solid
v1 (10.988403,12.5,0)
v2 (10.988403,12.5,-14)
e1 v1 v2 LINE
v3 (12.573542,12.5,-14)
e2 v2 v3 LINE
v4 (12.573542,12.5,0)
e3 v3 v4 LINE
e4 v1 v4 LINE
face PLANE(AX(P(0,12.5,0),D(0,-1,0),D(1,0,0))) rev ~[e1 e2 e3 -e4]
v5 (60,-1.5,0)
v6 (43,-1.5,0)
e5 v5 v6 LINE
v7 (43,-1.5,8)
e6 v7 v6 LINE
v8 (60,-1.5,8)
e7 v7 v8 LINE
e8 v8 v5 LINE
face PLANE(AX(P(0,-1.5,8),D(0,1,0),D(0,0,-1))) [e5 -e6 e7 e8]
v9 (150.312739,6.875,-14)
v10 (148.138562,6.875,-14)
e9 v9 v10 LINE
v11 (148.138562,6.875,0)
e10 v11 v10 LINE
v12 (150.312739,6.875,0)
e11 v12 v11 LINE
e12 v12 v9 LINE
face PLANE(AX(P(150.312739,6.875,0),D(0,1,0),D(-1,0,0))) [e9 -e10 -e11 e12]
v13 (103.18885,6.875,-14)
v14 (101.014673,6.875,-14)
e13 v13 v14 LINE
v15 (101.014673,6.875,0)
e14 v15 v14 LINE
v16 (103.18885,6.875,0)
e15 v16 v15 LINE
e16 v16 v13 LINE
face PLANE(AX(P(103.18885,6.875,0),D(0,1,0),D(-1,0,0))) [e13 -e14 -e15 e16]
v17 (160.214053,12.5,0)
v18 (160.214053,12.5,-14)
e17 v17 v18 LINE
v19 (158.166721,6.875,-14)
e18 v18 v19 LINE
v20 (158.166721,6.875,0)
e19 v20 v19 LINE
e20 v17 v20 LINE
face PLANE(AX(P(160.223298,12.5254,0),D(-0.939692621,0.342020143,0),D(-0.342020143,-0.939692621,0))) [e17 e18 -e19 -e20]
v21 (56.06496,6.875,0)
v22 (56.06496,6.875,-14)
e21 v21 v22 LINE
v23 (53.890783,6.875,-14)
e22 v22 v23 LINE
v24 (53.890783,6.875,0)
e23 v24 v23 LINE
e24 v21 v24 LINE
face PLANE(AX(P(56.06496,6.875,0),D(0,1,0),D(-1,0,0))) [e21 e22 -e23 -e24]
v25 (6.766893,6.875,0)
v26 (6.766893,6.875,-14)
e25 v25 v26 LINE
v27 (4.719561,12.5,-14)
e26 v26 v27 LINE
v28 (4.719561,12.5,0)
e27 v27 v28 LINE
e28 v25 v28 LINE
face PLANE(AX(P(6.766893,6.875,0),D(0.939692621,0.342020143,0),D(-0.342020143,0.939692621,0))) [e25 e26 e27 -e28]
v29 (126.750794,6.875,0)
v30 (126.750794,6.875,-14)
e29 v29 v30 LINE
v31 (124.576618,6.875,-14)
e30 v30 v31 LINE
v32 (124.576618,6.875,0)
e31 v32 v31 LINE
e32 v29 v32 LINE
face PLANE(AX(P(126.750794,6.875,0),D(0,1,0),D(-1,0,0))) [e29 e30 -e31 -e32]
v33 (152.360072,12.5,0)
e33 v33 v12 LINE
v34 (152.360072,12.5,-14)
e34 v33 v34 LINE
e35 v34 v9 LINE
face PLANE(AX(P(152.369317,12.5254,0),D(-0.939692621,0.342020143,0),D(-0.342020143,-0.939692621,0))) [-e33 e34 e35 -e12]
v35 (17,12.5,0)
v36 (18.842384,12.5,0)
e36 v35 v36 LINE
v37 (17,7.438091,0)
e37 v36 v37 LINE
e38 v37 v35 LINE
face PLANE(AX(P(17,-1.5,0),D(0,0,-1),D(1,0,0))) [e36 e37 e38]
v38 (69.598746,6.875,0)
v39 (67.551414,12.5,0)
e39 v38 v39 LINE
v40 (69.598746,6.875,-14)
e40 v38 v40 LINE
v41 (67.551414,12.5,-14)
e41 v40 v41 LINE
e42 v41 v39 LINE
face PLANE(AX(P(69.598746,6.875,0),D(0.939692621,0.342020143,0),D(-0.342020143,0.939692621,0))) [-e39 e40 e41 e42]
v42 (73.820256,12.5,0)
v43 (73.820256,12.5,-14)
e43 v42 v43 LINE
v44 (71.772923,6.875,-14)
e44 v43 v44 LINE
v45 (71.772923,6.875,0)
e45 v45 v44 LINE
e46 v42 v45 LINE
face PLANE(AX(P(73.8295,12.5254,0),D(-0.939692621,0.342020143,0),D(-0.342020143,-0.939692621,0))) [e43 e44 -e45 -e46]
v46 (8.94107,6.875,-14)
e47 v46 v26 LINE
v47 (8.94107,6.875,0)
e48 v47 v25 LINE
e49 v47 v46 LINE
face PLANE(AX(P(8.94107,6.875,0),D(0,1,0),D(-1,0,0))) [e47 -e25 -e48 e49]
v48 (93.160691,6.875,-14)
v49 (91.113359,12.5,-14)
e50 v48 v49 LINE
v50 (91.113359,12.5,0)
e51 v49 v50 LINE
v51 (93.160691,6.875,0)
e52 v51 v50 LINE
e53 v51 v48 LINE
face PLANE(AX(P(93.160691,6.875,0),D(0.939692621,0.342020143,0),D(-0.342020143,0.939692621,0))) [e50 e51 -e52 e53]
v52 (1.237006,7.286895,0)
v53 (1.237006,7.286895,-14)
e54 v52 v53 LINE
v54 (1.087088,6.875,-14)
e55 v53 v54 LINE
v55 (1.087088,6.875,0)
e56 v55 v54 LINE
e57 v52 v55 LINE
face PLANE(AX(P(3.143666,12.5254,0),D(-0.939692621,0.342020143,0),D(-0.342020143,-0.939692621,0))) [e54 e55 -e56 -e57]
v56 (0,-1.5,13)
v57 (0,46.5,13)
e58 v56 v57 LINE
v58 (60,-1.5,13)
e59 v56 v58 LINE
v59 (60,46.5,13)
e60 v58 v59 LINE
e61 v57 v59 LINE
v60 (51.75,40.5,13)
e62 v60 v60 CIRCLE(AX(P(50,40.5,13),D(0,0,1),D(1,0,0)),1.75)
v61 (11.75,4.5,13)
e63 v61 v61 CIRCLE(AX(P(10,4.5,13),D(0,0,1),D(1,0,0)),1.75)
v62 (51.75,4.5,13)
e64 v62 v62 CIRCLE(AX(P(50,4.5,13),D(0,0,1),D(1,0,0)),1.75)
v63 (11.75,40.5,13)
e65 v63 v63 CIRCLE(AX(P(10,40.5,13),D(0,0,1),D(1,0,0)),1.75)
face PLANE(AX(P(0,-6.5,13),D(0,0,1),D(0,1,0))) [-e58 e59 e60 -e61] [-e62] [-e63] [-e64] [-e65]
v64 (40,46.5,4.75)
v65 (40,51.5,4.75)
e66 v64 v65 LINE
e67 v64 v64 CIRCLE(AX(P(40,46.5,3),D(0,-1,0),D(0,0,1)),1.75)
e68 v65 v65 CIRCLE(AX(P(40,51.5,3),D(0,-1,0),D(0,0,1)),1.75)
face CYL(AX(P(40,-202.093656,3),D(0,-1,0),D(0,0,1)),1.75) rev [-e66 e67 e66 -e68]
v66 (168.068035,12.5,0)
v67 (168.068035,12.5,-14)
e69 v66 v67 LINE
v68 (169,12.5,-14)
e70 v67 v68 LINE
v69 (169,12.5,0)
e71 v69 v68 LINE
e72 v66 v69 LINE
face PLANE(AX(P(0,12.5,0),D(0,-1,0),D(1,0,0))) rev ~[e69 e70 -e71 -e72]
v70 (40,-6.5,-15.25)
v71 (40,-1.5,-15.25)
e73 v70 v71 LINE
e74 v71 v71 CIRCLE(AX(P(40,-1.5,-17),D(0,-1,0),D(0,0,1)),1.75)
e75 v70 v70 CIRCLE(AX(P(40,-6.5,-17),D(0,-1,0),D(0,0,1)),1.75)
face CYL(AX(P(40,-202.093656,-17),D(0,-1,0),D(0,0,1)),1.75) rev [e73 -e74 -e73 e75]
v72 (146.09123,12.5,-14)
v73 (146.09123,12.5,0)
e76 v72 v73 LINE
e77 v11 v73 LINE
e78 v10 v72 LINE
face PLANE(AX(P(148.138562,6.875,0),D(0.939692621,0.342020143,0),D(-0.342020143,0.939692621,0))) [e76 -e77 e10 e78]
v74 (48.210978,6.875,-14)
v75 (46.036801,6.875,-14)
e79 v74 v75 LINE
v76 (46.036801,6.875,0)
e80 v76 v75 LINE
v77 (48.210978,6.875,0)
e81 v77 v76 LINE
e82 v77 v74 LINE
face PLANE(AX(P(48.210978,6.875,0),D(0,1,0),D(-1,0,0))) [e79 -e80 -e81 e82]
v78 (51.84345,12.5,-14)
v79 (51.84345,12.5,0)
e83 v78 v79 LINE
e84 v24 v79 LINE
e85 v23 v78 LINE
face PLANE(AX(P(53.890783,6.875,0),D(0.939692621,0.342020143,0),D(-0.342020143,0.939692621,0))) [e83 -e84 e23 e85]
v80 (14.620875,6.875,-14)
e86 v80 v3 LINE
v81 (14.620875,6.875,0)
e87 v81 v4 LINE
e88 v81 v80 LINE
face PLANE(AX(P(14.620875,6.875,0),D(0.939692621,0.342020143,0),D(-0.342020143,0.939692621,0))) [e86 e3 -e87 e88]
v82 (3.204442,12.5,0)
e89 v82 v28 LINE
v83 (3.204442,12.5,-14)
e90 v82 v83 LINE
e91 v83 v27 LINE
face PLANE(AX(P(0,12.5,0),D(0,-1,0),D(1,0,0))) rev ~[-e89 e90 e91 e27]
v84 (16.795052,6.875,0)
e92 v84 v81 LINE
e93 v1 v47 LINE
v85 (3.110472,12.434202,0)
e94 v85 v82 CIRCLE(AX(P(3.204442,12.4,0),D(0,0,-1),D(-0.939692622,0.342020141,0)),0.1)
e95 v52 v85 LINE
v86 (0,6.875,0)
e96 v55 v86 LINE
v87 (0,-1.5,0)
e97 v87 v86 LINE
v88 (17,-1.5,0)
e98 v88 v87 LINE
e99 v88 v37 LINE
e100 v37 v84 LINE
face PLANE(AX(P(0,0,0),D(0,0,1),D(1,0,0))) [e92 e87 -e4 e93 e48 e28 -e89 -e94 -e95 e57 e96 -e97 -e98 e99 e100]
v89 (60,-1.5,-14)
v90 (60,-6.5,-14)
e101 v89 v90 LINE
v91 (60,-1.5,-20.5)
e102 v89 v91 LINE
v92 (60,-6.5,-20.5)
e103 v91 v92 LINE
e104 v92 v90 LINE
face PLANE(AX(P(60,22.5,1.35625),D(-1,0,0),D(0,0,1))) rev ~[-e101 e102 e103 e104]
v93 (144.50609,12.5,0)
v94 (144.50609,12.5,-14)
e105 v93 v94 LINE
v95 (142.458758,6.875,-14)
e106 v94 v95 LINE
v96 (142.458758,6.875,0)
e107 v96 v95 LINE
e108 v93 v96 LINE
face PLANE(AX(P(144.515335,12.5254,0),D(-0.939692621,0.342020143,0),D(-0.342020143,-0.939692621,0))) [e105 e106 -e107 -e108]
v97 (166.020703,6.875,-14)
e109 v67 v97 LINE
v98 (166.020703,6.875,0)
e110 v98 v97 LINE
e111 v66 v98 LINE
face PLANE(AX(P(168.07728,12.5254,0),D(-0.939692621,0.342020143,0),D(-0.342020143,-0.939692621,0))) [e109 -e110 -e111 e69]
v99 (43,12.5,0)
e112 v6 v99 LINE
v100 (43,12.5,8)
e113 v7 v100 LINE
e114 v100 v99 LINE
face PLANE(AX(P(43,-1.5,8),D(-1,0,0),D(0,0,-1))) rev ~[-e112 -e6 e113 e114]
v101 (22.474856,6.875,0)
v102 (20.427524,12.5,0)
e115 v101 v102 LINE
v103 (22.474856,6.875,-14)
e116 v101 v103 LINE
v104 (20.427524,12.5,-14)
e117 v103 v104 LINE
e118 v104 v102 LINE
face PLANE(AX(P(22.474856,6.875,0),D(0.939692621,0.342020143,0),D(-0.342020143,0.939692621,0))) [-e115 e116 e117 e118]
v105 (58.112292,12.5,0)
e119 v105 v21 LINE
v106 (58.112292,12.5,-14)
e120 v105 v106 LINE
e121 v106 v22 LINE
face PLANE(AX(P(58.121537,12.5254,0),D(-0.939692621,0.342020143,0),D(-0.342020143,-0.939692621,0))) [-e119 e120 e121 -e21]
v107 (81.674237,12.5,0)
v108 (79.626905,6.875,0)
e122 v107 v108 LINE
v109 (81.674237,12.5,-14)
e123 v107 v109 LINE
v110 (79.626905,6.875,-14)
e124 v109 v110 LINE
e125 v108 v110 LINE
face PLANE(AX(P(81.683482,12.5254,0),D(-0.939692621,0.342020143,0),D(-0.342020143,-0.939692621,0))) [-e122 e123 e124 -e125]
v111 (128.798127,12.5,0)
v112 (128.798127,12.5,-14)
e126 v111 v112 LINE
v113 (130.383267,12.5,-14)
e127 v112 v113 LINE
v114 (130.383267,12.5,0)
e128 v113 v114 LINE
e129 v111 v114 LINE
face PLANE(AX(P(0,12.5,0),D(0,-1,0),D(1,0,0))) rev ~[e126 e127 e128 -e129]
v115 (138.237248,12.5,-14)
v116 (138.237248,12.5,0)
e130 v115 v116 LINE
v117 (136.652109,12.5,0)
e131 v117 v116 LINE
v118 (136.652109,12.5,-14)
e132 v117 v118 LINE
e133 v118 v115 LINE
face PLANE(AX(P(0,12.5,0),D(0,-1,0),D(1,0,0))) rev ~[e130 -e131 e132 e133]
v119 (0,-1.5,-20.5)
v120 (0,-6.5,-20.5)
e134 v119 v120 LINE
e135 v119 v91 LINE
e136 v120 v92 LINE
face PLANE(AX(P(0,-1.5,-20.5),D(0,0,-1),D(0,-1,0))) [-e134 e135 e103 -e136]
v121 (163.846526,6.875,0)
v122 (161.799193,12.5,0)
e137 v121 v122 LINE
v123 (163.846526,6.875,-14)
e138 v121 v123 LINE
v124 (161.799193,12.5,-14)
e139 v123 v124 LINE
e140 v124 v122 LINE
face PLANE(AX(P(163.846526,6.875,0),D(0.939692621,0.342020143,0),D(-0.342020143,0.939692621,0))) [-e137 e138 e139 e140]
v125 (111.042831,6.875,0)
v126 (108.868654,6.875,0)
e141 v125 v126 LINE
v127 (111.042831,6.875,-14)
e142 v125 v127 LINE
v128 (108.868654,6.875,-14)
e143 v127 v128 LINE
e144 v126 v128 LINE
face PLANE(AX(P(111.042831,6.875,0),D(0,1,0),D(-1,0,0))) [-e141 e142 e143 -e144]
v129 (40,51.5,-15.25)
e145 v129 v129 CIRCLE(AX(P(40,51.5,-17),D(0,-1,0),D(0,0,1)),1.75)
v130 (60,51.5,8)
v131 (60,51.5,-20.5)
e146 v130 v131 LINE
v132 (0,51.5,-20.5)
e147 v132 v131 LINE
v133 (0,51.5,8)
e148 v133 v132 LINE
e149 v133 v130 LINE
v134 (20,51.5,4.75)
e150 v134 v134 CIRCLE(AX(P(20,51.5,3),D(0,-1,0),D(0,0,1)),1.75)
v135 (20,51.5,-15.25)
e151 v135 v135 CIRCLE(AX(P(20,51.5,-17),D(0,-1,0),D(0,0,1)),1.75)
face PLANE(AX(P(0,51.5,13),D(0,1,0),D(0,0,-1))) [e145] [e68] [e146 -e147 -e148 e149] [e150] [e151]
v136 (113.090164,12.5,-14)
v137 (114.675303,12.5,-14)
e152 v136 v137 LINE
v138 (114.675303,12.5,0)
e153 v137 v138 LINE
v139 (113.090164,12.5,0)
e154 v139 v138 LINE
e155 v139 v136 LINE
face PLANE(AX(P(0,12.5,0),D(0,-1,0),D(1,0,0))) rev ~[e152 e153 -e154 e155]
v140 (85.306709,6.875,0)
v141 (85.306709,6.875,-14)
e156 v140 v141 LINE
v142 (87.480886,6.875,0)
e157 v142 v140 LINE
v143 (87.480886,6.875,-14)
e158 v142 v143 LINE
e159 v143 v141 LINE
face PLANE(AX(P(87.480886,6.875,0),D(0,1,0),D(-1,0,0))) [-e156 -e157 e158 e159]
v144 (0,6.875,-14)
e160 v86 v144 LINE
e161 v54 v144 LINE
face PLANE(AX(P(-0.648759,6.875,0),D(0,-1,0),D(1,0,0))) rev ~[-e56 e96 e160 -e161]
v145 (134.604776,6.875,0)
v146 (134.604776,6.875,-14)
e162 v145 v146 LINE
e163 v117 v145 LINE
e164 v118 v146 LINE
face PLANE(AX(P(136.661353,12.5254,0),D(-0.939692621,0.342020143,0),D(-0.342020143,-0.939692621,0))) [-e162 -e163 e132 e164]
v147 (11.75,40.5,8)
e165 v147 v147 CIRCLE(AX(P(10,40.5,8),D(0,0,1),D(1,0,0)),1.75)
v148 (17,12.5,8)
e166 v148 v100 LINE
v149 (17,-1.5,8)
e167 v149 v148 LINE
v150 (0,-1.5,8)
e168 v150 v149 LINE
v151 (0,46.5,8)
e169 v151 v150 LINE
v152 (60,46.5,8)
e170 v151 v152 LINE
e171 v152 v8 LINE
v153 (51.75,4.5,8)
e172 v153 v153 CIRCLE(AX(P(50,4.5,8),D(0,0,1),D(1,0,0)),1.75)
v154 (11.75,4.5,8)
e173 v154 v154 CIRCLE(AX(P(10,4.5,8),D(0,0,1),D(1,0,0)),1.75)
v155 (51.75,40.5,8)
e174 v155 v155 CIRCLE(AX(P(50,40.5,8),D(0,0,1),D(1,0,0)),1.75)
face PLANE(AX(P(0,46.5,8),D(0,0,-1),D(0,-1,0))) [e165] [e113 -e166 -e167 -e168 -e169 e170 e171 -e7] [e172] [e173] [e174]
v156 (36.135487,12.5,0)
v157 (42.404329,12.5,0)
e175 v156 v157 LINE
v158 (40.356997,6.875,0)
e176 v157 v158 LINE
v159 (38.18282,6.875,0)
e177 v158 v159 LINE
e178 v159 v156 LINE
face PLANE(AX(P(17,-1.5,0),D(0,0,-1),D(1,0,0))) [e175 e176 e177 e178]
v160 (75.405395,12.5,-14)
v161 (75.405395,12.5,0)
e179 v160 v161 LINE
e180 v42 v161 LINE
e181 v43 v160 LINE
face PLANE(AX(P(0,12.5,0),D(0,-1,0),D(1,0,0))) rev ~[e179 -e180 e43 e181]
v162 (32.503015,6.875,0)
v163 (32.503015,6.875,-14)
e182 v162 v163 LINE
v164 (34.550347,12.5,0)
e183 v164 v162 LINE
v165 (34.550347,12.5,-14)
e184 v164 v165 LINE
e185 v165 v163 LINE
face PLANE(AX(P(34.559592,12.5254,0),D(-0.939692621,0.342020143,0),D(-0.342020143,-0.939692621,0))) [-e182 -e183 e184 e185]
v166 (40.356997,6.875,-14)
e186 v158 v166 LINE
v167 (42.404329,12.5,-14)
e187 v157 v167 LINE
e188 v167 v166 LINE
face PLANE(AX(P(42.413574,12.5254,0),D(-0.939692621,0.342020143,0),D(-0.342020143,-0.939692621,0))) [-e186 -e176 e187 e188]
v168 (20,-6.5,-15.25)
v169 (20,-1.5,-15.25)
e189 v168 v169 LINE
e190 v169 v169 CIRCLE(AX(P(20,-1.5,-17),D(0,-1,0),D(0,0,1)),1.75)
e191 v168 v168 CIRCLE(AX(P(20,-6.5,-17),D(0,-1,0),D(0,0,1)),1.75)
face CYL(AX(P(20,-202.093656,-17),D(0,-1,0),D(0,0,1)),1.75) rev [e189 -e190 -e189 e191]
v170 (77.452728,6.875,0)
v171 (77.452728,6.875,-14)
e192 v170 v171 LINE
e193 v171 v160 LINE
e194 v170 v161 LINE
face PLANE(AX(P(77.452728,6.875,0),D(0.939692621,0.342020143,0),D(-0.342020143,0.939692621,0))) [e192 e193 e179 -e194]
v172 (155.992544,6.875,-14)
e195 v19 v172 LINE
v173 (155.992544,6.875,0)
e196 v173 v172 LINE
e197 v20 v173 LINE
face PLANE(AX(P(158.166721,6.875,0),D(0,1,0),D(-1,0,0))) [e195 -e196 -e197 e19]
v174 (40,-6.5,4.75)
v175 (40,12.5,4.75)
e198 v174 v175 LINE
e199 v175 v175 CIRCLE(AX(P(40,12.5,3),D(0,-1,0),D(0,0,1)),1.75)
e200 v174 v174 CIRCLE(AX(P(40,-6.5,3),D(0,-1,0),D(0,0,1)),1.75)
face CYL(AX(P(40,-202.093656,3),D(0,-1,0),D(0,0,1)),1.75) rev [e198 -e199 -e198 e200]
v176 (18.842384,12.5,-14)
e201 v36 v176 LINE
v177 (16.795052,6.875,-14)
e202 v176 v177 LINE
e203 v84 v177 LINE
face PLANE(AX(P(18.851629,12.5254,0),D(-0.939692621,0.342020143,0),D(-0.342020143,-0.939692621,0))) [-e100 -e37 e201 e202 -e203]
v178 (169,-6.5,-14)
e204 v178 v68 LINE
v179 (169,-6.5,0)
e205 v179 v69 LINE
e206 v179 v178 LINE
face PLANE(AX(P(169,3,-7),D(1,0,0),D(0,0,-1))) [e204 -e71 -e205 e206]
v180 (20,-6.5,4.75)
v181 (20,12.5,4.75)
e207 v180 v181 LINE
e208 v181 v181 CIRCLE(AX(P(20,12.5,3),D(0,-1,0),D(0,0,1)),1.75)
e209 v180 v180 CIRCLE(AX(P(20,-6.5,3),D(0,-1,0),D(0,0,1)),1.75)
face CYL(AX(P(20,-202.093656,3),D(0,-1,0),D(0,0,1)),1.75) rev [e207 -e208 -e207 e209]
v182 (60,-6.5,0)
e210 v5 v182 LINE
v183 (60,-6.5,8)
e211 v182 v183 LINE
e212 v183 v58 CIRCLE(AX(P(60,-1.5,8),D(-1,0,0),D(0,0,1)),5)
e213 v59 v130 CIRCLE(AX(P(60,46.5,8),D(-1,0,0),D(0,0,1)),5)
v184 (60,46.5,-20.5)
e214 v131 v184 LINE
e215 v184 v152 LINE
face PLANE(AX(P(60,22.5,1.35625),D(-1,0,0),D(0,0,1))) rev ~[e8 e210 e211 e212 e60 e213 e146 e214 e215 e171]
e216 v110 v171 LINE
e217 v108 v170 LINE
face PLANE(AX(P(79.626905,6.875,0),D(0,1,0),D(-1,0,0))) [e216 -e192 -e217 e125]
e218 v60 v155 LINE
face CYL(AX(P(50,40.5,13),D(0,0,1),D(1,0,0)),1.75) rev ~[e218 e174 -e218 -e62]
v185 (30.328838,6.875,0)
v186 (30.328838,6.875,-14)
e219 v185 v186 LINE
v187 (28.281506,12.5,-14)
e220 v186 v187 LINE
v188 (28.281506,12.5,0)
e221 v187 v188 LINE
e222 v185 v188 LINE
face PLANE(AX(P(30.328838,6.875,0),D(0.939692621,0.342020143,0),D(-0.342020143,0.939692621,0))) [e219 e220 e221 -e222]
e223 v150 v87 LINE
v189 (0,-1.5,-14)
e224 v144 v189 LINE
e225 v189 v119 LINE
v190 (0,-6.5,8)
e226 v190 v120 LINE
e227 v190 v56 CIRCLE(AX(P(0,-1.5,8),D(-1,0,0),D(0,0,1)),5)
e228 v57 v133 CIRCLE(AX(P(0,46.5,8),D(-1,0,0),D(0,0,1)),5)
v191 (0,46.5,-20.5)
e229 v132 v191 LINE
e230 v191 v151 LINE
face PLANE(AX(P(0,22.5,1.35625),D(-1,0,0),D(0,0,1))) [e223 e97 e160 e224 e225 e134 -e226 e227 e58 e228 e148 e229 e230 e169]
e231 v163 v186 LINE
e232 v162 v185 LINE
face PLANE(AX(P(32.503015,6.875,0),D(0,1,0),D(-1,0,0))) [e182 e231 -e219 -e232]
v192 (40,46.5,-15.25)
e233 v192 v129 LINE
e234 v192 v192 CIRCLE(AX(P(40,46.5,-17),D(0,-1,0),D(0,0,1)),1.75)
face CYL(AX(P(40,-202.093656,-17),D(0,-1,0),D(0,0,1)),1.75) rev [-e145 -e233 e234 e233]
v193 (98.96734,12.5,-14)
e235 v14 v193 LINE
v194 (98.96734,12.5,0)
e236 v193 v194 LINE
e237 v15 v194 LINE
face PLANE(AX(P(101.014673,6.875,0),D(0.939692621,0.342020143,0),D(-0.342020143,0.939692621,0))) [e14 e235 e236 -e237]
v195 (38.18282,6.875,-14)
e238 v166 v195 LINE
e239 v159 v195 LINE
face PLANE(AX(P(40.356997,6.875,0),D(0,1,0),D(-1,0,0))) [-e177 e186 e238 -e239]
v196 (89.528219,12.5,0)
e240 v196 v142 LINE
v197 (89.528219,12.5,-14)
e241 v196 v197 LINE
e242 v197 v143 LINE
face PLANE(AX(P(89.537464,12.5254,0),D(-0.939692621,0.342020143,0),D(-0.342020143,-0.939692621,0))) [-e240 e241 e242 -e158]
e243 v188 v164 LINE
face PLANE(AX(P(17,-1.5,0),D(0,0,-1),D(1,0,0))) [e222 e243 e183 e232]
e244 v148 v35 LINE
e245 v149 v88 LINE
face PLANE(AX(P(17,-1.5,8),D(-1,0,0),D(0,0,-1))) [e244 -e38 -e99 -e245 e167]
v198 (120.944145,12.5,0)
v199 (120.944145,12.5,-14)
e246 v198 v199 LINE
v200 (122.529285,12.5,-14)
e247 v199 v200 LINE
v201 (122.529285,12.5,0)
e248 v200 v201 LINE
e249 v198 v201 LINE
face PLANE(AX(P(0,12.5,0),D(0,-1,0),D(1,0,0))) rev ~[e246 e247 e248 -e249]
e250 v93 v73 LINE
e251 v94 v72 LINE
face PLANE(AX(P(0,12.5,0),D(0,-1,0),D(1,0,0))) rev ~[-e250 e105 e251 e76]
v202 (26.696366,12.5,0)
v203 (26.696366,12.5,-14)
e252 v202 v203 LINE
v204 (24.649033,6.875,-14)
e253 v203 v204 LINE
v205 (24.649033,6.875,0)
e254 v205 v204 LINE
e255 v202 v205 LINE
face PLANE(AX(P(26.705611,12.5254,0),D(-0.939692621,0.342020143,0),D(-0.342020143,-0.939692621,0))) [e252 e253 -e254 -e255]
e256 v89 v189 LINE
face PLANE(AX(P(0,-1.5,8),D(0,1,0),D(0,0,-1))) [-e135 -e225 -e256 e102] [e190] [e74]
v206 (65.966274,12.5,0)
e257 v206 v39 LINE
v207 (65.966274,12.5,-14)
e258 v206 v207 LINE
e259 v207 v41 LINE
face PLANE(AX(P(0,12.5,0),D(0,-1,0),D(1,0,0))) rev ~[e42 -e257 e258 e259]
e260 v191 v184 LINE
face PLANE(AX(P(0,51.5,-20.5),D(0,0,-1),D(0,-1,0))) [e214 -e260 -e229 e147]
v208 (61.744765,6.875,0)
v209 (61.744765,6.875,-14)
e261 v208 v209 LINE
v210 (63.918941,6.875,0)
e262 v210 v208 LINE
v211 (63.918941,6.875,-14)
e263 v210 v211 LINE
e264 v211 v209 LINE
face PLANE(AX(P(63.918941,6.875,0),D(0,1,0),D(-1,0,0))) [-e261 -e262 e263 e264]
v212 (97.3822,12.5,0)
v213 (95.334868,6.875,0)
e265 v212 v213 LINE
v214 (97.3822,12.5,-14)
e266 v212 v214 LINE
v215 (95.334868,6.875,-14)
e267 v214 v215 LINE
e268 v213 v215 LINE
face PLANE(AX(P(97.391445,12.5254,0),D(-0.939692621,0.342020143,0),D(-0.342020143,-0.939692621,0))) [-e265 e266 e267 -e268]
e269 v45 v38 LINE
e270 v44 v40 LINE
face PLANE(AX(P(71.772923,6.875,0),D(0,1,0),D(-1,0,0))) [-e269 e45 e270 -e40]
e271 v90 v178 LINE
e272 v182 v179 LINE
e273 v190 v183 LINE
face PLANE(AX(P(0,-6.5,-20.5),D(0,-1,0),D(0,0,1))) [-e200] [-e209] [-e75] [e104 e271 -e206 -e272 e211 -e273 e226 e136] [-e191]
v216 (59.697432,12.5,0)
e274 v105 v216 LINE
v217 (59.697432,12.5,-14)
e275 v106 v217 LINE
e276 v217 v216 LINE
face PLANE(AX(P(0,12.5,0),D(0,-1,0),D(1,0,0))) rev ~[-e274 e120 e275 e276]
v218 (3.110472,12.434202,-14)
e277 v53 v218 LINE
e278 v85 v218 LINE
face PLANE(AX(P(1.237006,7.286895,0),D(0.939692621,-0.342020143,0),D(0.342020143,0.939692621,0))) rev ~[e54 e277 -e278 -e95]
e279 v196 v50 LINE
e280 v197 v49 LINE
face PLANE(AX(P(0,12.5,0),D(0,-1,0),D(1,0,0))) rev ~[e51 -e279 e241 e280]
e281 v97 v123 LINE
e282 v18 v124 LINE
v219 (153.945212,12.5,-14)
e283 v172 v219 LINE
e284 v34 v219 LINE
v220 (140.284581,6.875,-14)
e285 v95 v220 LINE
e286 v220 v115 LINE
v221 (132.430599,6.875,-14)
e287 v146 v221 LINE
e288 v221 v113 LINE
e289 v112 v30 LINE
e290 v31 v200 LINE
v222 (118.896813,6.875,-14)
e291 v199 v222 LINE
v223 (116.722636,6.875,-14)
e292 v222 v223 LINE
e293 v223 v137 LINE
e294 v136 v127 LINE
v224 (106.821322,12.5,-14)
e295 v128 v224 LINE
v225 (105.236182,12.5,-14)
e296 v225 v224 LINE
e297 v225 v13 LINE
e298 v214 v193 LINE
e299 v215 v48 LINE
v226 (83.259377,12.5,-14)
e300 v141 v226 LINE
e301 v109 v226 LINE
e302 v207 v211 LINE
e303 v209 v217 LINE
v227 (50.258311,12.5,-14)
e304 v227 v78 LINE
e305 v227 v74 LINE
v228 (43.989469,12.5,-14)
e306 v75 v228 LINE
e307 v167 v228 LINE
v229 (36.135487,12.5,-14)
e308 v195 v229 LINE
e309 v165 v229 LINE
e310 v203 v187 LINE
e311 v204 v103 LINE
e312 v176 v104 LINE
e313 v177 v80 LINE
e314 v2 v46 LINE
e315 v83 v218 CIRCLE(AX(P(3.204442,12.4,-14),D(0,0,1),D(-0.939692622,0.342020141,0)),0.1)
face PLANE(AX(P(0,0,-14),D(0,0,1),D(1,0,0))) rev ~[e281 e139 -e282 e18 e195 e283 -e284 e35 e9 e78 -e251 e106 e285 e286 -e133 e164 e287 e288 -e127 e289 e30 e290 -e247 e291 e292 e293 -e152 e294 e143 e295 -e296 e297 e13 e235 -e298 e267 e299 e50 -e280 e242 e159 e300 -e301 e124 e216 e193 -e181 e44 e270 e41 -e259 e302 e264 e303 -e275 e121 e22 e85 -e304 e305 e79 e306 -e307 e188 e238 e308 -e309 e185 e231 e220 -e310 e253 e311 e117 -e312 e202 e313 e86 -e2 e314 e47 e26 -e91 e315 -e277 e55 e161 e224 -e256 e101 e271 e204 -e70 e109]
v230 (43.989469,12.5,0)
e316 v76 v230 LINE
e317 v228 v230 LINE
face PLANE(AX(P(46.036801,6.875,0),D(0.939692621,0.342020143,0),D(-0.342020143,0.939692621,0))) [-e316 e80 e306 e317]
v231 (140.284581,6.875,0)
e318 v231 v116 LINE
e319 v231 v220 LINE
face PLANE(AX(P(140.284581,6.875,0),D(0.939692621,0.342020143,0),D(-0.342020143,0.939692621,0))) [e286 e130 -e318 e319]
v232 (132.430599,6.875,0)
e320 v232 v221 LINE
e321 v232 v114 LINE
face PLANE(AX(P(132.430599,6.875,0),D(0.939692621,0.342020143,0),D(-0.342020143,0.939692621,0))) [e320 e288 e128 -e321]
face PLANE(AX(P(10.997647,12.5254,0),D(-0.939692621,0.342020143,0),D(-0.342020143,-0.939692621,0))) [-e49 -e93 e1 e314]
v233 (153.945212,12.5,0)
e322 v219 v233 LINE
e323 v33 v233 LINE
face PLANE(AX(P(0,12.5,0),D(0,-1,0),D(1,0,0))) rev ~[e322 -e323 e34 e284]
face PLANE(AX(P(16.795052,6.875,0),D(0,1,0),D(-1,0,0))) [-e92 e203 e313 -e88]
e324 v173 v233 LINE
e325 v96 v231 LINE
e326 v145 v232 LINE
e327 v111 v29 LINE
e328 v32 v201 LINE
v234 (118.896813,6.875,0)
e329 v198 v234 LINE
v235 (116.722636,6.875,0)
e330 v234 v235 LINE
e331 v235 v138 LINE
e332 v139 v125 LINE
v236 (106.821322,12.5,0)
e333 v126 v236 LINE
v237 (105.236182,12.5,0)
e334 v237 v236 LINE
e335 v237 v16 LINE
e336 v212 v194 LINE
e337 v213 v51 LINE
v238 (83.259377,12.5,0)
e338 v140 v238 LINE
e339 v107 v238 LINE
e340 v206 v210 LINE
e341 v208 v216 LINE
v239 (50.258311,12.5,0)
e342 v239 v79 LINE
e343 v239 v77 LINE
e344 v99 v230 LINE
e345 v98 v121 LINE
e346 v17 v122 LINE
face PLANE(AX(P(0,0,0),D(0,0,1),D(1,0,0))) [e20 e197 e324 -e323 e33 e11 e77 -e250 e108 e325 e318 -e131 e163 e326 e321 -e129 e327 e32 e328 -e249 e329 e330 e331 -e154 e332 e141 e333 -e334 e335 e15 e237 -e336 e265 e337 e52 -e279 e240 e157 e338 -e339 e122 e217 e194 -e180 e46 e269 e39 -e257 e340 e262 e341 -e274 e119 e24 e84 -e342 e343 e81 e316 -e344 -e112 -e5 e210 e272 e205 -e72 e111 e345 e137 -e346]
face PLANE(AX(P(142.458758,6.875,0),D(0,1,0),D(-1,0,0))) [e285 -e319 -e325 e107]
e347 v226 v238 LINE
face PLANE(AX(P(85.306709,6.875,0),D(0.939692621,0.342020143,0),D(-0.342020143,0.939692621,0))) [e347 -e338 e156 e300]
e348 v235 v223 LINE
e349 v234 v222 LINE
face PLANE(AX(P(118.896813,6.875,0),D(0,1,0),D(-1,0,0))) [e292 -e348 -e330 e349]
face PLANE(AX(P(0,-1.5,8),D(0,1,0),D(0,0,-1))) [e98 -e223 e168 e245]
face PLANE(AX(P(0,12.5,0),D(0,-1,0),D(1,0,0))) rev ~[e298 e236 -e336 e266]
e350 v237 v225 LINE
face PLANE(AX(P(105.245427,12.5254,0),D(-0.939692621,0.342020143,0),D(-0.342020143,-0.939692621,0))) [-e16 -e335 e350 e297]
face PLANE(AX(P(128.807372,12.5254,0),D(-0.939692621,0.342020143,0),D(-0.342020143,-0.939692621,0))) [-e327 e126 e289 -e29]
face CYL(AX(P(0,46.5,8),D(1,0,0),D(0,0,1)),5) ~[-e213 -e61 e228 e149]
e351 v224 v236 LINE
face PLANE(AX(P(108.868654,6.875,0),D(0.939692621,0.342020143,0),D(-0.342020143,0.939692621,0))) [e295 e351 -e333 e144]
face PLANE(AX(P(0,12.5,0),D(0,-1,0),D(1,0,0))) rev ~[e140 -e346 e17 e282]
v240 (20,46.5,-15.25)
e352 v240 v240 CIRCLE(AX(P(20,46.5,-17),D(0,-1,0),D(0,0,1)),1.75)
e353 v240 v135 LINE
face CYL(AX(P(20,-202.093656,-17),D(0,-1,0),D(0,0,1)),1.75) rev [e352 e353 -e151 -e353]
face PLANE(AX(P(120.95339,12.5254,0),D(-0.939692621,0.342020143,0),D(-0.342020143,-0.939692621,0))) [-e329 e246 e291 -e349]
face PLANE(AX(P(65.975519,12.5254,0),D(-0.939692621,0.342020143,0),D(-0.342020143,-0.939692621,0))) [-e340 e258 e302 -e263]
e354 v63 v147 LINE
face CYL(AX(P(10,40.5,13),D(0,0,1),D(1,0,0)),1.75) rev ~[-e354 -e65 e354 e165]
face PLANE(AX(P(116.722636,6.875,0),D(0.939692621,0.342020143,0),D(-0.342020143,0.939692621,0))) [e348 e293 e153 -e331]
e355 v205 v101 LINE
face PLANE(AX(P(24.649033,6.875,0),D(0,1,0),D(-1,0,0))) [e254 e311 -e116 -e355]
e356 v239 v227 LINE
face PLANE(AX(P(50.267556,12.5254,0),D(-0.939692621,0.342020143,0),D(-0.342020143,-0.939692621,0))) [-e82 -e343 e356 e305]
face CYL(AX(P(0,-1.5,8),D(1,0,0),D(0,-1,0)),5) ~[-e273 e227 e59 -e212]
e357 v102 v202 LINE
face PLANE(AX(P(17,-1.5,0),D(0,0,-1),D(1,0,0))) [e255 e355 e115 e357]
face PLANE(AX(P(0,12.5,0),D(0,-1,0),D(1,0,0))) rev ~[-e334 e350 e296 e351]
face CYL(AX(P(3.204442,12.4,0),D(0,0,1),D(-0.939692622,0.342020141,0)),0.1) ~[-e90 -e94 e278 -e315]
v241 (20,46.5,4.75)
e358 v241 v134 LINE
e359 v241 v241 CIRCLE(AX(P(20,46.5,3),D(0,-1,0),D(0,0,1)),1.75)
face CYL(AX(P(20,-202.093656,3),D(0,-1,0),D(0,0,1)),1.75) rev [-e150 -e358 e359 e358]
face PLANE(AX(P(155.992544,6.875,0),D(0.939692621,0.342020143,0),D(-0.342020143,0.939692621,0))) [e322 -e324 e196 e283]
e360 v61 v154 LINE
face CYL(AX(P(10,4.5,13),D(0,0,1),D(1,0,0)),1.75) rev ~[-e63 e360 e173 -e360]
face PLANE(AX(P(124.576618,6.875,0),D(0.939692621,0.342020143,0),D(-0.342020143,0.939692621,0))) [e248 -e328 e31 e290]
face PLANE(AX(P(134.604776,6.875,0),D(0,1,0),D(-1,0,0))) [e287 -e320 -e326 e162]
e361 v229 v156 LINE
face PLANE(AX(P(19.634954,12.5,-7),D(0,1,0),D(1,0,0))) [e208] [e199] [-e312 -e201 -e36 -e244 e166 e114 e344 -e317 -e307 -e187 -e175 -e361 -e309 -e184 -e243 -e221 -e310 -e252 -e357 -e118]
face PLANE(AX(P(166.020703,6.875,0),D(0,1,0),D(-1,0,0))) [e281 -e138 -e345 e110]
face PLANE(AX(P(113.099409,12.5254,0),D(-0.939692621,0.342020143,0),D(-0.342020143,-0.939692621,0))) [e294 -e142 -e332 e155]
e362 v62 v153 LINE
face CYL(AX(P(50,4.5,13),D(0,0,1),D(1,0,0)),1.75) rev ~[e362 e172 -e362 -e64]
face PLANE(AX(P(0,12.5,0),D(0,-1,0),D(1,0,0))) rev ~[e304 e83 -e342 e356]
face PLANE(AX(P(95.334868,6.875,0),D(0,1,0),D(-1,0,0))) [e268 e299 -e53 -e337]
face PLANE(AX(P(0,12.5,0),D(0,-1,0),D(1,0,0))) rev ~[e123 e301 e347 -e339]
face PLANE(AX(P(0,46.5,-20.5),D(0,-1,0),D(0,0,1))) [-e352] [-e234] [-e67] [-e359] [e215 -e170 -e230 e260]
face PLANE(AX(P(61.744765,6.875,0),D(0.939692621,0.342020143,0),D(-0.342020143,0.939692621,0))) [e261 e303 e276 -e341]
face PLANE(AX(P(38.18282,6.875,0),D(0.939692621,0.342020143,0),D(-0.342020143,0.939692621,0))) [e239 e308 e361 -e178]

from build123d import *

# Parameters (mm, degrees)
BLANKSKE_W              = 209
BLANKSKE_H              = 12.5
BLANK_DEPTH             = 14
TOOTHCUTILL_DEPTH       = 210.841011244
TOOTHCUTSIM_DEPTH       = 210.841011244
TEETHCUTS_COUNT         = 27
TEETHCUTS_PITCH         = 7.853981625
SKETCH8_W               = 209
SKETCH8_H               = 14
BOSS_EXTRUDE3_DEPTH     = 6.5
BOSS_EXTRUDE1_START     = -209
BOSS_EXTRUDE1_DEPTH     = 60
SKETCH4_R               = 1.75
CUT_EXTRUDE1_DEPTH      = 5
BOSS_EXTRUDE2_REACH     = 218.588
SKETCH6_W               = 26
SKETCH6_H               = 8
CUT_EXTRUDE2_DEPTH      = 214.593656273
CUT_EXTRUDE2_DEPTH_BACK = 214.593656273
SKETCH7_R               = 1.75
FILLET1_R               = 5
SKETCH9_W               = 14
SKETCH9_H               = 19
CUT_EXTRUDE3_DEPTH      = 40


with BuildPart() as part:
    # BlankSke → Blank (new body)
    with BuildSketch(Plane.XY):
        with Locations((104.5, 6.25)):
            Rectangle(BLANKSKE_W, BLANKSKE_H)
    extrude(amount=-BLANK_DEPTH)

    # TooCutSkeIll → ToothCutIll (cut, through all)
    with BuildSketch(Plane.XY):
        with BuildLine():
            Line((-3.110472484, 12.434202014), (-1.237006086, 7.28689539))
            ThreePointArc((-1.237006086, 7.28689539), (-1.007817354, 6.98821082), (-0.648758505, 6.875))
            Line((-0.648758505, 6.875), (0.648758505, 6.875))
            ThreePointArc((0.648758505, 6.875), (1.007817354, 6.98821082), (1.237006086, 7.28689539))
            Line((1.237006086, 7.28689539), (3.110472484, 12.434202014))
            ThreePointArc((3.110472484, 12.434202014), (3.147084102, 12.481915204), (3.204441746, 12.5))
            Line((3.204441746, 12.5), (3.204441746, 12.5254))
            Line((3.204441746, 12.5254), (-3.204441746, 12.5254))
            Line((-3.204441746, 12.5254), (-3.204441746, 12.5))
            ThreePointArc((-3.204441746, 12.5), (-3.147084102, 12.481915204), (-3.110472484, 12.434202014))
        make_face()
    extrude(amount=-TOOTHCUTILL_DEPTH, mode=Mode.SUBTRACT)

    # TooCutSkeSim → ToothCutSim (cut, through all)
    with BuildSketch(Plane.XY):
        Polygon((1.087088424, 6.875), (-1.087088424, 6.875), (-3.143665836, 12.5254), (3.143665836, 12.5254), align=None)
    toothcutsim = extrude(amount=-TOOTHCUTSIM_DEPTH, mode=Mode.SUBTRACT)

    # TeethCuts: ToothCutSim ×27
    with Locations(*[(i * TEETHCUTS_PITCH, 0, 0) for i in range(1, TEETHCUTS_COUNT)]):
        add(toothcutsim, mode=Mode.SUBTRACT)

    # Sketch8 → Boss-Extrude3 (add)
    with BuildSketch(Plane.XZ):
        with Locations((104.5, -7)):
            Rectangle(SKETCH8_W, SKETCH8_H)
    extrude(amount=BOSS_EXTRUDE3_DEPTH)

    # Sketch3 → Boss-Extrude1 (add)
    with BuildSketch(Plane(origin=(209, 0, 0), x_dir=(0, 0, -1), z_dir=(1, 0, 0)).offset(BOSS_EXTRUDE1_START)):
        Polygon((20.5, -6.5), (-13, -6.5), (-13, 51.5), (20.5, 51.5), (20.5, 46.5), (-8, 46.5), (-8, -1.5), (20.5, -1.5), align=None)
    extrude(amount=BOSS_EXTRUDE1_DEPTH)

    # Sketch4 → Cut-Extrude1 (cut)
    with BuildSketch(Plane.XY.offset(13)):
        with Locations((10, 40.5)):
            Circle(SKETCH4_R)
        with Locations((50, 40.5)):
            Circle(SKETCH4_R)
        with Locations((50, 4.5)):
            Circle(SKETCH4_R)
        with Locations((10, 4.5)):
            Circle(SKETCH4_R)
    extrude(amount=-CUT_EXTRUDE1_DEPTH, mode=Mode.SUBTRACT)

    # Boss-Extrude2: up to this face of the body (flat: up to its plane)
    boss_extrude2_end = Plane(part.part.faces().sort_by_distance((19.634954063, 12.5, -7))[0])
    # Sketch6 → Boss-Extrude2 (add, up to the picked face)
    with BuildSketch(Plane(origin=(0, -1.5, 0), x_dir=(1, 0, 0), z_dir=(0, 1, 0)), mode=Mode.PRIVATE) as boss_extrude2_sk1:
        with Locations((30, -4)):
            Rectangle(SKETCH6_W, SKETCH6_H)
    boss_extrude2_tool1 = split(extrude(boss_extrude2_sk1.sketch, amount=BOSS_EXTRUDE2_REACH, mode=Mode.PRIVATE), bisect_by=boss_extrude2_end, keep=Keep.BOTH, mode=Mode.PRIVATE)
    add(boss_extrude2_tool1.solids().sort_by(Axis((30, -1.5, 4), (0, 1, 0)))[0])

    # Sketch7 → Cut-Extrude2 (cut, two sides: drawn at the far end of the back side and taken through both)
    with BuildSketch(Plane(origin=(0, 12.5, 0), x_dir=(1, 0, 0), z_dir=(0, 1, 0)).offset(-CUT_EXTRUDE2_DEPTH_BACK)):
        with Locations(Location((20, 17, 0), (0, 0, 270))):
            Circle(SKETCH7_R)
        with Locations(Location((40, 17, 0), (0, 0, 270))):
            Circle(SKETCH7_R)
        with Locations(Location((40, -3, 0), (0, 0, 270))):
            Circle(SKETCH7_R)
        with Locations(Location((20, -3, 0), (0, 0, 270))):
            Circle(SKETCH7_R)
    extrude(amount=CUT_EXTRUDE2_DEPTH + CUT_EXTRUDE2_DEPTH_BACK, mode=Mode.SUBTRACT)

    # Fillet1
    fillet1_edges = [part.edges().sort_by_distance(p)[0] for p in [
        (30, -6.5, 13),
        (30, 51.5, 13),
    ]]
    fillet(fillet1_edges, radius=FILLET1_R)

    # Sketch9 → Cut-Extrude3 (cut)
    with BuildSketch(Plane(origin=(209, 0, 0), x_dir=(0, 0, -1), z_dir=(1, 0, 0))):
        with Locations((7, 3)):
            Rectangle(SKETCH9_W, SKETCH9_H)
    extrude(amount=-CUT_EXTRUDE3_DEPTH, mode=Mode.SUBTRACT)


solid = part.part
